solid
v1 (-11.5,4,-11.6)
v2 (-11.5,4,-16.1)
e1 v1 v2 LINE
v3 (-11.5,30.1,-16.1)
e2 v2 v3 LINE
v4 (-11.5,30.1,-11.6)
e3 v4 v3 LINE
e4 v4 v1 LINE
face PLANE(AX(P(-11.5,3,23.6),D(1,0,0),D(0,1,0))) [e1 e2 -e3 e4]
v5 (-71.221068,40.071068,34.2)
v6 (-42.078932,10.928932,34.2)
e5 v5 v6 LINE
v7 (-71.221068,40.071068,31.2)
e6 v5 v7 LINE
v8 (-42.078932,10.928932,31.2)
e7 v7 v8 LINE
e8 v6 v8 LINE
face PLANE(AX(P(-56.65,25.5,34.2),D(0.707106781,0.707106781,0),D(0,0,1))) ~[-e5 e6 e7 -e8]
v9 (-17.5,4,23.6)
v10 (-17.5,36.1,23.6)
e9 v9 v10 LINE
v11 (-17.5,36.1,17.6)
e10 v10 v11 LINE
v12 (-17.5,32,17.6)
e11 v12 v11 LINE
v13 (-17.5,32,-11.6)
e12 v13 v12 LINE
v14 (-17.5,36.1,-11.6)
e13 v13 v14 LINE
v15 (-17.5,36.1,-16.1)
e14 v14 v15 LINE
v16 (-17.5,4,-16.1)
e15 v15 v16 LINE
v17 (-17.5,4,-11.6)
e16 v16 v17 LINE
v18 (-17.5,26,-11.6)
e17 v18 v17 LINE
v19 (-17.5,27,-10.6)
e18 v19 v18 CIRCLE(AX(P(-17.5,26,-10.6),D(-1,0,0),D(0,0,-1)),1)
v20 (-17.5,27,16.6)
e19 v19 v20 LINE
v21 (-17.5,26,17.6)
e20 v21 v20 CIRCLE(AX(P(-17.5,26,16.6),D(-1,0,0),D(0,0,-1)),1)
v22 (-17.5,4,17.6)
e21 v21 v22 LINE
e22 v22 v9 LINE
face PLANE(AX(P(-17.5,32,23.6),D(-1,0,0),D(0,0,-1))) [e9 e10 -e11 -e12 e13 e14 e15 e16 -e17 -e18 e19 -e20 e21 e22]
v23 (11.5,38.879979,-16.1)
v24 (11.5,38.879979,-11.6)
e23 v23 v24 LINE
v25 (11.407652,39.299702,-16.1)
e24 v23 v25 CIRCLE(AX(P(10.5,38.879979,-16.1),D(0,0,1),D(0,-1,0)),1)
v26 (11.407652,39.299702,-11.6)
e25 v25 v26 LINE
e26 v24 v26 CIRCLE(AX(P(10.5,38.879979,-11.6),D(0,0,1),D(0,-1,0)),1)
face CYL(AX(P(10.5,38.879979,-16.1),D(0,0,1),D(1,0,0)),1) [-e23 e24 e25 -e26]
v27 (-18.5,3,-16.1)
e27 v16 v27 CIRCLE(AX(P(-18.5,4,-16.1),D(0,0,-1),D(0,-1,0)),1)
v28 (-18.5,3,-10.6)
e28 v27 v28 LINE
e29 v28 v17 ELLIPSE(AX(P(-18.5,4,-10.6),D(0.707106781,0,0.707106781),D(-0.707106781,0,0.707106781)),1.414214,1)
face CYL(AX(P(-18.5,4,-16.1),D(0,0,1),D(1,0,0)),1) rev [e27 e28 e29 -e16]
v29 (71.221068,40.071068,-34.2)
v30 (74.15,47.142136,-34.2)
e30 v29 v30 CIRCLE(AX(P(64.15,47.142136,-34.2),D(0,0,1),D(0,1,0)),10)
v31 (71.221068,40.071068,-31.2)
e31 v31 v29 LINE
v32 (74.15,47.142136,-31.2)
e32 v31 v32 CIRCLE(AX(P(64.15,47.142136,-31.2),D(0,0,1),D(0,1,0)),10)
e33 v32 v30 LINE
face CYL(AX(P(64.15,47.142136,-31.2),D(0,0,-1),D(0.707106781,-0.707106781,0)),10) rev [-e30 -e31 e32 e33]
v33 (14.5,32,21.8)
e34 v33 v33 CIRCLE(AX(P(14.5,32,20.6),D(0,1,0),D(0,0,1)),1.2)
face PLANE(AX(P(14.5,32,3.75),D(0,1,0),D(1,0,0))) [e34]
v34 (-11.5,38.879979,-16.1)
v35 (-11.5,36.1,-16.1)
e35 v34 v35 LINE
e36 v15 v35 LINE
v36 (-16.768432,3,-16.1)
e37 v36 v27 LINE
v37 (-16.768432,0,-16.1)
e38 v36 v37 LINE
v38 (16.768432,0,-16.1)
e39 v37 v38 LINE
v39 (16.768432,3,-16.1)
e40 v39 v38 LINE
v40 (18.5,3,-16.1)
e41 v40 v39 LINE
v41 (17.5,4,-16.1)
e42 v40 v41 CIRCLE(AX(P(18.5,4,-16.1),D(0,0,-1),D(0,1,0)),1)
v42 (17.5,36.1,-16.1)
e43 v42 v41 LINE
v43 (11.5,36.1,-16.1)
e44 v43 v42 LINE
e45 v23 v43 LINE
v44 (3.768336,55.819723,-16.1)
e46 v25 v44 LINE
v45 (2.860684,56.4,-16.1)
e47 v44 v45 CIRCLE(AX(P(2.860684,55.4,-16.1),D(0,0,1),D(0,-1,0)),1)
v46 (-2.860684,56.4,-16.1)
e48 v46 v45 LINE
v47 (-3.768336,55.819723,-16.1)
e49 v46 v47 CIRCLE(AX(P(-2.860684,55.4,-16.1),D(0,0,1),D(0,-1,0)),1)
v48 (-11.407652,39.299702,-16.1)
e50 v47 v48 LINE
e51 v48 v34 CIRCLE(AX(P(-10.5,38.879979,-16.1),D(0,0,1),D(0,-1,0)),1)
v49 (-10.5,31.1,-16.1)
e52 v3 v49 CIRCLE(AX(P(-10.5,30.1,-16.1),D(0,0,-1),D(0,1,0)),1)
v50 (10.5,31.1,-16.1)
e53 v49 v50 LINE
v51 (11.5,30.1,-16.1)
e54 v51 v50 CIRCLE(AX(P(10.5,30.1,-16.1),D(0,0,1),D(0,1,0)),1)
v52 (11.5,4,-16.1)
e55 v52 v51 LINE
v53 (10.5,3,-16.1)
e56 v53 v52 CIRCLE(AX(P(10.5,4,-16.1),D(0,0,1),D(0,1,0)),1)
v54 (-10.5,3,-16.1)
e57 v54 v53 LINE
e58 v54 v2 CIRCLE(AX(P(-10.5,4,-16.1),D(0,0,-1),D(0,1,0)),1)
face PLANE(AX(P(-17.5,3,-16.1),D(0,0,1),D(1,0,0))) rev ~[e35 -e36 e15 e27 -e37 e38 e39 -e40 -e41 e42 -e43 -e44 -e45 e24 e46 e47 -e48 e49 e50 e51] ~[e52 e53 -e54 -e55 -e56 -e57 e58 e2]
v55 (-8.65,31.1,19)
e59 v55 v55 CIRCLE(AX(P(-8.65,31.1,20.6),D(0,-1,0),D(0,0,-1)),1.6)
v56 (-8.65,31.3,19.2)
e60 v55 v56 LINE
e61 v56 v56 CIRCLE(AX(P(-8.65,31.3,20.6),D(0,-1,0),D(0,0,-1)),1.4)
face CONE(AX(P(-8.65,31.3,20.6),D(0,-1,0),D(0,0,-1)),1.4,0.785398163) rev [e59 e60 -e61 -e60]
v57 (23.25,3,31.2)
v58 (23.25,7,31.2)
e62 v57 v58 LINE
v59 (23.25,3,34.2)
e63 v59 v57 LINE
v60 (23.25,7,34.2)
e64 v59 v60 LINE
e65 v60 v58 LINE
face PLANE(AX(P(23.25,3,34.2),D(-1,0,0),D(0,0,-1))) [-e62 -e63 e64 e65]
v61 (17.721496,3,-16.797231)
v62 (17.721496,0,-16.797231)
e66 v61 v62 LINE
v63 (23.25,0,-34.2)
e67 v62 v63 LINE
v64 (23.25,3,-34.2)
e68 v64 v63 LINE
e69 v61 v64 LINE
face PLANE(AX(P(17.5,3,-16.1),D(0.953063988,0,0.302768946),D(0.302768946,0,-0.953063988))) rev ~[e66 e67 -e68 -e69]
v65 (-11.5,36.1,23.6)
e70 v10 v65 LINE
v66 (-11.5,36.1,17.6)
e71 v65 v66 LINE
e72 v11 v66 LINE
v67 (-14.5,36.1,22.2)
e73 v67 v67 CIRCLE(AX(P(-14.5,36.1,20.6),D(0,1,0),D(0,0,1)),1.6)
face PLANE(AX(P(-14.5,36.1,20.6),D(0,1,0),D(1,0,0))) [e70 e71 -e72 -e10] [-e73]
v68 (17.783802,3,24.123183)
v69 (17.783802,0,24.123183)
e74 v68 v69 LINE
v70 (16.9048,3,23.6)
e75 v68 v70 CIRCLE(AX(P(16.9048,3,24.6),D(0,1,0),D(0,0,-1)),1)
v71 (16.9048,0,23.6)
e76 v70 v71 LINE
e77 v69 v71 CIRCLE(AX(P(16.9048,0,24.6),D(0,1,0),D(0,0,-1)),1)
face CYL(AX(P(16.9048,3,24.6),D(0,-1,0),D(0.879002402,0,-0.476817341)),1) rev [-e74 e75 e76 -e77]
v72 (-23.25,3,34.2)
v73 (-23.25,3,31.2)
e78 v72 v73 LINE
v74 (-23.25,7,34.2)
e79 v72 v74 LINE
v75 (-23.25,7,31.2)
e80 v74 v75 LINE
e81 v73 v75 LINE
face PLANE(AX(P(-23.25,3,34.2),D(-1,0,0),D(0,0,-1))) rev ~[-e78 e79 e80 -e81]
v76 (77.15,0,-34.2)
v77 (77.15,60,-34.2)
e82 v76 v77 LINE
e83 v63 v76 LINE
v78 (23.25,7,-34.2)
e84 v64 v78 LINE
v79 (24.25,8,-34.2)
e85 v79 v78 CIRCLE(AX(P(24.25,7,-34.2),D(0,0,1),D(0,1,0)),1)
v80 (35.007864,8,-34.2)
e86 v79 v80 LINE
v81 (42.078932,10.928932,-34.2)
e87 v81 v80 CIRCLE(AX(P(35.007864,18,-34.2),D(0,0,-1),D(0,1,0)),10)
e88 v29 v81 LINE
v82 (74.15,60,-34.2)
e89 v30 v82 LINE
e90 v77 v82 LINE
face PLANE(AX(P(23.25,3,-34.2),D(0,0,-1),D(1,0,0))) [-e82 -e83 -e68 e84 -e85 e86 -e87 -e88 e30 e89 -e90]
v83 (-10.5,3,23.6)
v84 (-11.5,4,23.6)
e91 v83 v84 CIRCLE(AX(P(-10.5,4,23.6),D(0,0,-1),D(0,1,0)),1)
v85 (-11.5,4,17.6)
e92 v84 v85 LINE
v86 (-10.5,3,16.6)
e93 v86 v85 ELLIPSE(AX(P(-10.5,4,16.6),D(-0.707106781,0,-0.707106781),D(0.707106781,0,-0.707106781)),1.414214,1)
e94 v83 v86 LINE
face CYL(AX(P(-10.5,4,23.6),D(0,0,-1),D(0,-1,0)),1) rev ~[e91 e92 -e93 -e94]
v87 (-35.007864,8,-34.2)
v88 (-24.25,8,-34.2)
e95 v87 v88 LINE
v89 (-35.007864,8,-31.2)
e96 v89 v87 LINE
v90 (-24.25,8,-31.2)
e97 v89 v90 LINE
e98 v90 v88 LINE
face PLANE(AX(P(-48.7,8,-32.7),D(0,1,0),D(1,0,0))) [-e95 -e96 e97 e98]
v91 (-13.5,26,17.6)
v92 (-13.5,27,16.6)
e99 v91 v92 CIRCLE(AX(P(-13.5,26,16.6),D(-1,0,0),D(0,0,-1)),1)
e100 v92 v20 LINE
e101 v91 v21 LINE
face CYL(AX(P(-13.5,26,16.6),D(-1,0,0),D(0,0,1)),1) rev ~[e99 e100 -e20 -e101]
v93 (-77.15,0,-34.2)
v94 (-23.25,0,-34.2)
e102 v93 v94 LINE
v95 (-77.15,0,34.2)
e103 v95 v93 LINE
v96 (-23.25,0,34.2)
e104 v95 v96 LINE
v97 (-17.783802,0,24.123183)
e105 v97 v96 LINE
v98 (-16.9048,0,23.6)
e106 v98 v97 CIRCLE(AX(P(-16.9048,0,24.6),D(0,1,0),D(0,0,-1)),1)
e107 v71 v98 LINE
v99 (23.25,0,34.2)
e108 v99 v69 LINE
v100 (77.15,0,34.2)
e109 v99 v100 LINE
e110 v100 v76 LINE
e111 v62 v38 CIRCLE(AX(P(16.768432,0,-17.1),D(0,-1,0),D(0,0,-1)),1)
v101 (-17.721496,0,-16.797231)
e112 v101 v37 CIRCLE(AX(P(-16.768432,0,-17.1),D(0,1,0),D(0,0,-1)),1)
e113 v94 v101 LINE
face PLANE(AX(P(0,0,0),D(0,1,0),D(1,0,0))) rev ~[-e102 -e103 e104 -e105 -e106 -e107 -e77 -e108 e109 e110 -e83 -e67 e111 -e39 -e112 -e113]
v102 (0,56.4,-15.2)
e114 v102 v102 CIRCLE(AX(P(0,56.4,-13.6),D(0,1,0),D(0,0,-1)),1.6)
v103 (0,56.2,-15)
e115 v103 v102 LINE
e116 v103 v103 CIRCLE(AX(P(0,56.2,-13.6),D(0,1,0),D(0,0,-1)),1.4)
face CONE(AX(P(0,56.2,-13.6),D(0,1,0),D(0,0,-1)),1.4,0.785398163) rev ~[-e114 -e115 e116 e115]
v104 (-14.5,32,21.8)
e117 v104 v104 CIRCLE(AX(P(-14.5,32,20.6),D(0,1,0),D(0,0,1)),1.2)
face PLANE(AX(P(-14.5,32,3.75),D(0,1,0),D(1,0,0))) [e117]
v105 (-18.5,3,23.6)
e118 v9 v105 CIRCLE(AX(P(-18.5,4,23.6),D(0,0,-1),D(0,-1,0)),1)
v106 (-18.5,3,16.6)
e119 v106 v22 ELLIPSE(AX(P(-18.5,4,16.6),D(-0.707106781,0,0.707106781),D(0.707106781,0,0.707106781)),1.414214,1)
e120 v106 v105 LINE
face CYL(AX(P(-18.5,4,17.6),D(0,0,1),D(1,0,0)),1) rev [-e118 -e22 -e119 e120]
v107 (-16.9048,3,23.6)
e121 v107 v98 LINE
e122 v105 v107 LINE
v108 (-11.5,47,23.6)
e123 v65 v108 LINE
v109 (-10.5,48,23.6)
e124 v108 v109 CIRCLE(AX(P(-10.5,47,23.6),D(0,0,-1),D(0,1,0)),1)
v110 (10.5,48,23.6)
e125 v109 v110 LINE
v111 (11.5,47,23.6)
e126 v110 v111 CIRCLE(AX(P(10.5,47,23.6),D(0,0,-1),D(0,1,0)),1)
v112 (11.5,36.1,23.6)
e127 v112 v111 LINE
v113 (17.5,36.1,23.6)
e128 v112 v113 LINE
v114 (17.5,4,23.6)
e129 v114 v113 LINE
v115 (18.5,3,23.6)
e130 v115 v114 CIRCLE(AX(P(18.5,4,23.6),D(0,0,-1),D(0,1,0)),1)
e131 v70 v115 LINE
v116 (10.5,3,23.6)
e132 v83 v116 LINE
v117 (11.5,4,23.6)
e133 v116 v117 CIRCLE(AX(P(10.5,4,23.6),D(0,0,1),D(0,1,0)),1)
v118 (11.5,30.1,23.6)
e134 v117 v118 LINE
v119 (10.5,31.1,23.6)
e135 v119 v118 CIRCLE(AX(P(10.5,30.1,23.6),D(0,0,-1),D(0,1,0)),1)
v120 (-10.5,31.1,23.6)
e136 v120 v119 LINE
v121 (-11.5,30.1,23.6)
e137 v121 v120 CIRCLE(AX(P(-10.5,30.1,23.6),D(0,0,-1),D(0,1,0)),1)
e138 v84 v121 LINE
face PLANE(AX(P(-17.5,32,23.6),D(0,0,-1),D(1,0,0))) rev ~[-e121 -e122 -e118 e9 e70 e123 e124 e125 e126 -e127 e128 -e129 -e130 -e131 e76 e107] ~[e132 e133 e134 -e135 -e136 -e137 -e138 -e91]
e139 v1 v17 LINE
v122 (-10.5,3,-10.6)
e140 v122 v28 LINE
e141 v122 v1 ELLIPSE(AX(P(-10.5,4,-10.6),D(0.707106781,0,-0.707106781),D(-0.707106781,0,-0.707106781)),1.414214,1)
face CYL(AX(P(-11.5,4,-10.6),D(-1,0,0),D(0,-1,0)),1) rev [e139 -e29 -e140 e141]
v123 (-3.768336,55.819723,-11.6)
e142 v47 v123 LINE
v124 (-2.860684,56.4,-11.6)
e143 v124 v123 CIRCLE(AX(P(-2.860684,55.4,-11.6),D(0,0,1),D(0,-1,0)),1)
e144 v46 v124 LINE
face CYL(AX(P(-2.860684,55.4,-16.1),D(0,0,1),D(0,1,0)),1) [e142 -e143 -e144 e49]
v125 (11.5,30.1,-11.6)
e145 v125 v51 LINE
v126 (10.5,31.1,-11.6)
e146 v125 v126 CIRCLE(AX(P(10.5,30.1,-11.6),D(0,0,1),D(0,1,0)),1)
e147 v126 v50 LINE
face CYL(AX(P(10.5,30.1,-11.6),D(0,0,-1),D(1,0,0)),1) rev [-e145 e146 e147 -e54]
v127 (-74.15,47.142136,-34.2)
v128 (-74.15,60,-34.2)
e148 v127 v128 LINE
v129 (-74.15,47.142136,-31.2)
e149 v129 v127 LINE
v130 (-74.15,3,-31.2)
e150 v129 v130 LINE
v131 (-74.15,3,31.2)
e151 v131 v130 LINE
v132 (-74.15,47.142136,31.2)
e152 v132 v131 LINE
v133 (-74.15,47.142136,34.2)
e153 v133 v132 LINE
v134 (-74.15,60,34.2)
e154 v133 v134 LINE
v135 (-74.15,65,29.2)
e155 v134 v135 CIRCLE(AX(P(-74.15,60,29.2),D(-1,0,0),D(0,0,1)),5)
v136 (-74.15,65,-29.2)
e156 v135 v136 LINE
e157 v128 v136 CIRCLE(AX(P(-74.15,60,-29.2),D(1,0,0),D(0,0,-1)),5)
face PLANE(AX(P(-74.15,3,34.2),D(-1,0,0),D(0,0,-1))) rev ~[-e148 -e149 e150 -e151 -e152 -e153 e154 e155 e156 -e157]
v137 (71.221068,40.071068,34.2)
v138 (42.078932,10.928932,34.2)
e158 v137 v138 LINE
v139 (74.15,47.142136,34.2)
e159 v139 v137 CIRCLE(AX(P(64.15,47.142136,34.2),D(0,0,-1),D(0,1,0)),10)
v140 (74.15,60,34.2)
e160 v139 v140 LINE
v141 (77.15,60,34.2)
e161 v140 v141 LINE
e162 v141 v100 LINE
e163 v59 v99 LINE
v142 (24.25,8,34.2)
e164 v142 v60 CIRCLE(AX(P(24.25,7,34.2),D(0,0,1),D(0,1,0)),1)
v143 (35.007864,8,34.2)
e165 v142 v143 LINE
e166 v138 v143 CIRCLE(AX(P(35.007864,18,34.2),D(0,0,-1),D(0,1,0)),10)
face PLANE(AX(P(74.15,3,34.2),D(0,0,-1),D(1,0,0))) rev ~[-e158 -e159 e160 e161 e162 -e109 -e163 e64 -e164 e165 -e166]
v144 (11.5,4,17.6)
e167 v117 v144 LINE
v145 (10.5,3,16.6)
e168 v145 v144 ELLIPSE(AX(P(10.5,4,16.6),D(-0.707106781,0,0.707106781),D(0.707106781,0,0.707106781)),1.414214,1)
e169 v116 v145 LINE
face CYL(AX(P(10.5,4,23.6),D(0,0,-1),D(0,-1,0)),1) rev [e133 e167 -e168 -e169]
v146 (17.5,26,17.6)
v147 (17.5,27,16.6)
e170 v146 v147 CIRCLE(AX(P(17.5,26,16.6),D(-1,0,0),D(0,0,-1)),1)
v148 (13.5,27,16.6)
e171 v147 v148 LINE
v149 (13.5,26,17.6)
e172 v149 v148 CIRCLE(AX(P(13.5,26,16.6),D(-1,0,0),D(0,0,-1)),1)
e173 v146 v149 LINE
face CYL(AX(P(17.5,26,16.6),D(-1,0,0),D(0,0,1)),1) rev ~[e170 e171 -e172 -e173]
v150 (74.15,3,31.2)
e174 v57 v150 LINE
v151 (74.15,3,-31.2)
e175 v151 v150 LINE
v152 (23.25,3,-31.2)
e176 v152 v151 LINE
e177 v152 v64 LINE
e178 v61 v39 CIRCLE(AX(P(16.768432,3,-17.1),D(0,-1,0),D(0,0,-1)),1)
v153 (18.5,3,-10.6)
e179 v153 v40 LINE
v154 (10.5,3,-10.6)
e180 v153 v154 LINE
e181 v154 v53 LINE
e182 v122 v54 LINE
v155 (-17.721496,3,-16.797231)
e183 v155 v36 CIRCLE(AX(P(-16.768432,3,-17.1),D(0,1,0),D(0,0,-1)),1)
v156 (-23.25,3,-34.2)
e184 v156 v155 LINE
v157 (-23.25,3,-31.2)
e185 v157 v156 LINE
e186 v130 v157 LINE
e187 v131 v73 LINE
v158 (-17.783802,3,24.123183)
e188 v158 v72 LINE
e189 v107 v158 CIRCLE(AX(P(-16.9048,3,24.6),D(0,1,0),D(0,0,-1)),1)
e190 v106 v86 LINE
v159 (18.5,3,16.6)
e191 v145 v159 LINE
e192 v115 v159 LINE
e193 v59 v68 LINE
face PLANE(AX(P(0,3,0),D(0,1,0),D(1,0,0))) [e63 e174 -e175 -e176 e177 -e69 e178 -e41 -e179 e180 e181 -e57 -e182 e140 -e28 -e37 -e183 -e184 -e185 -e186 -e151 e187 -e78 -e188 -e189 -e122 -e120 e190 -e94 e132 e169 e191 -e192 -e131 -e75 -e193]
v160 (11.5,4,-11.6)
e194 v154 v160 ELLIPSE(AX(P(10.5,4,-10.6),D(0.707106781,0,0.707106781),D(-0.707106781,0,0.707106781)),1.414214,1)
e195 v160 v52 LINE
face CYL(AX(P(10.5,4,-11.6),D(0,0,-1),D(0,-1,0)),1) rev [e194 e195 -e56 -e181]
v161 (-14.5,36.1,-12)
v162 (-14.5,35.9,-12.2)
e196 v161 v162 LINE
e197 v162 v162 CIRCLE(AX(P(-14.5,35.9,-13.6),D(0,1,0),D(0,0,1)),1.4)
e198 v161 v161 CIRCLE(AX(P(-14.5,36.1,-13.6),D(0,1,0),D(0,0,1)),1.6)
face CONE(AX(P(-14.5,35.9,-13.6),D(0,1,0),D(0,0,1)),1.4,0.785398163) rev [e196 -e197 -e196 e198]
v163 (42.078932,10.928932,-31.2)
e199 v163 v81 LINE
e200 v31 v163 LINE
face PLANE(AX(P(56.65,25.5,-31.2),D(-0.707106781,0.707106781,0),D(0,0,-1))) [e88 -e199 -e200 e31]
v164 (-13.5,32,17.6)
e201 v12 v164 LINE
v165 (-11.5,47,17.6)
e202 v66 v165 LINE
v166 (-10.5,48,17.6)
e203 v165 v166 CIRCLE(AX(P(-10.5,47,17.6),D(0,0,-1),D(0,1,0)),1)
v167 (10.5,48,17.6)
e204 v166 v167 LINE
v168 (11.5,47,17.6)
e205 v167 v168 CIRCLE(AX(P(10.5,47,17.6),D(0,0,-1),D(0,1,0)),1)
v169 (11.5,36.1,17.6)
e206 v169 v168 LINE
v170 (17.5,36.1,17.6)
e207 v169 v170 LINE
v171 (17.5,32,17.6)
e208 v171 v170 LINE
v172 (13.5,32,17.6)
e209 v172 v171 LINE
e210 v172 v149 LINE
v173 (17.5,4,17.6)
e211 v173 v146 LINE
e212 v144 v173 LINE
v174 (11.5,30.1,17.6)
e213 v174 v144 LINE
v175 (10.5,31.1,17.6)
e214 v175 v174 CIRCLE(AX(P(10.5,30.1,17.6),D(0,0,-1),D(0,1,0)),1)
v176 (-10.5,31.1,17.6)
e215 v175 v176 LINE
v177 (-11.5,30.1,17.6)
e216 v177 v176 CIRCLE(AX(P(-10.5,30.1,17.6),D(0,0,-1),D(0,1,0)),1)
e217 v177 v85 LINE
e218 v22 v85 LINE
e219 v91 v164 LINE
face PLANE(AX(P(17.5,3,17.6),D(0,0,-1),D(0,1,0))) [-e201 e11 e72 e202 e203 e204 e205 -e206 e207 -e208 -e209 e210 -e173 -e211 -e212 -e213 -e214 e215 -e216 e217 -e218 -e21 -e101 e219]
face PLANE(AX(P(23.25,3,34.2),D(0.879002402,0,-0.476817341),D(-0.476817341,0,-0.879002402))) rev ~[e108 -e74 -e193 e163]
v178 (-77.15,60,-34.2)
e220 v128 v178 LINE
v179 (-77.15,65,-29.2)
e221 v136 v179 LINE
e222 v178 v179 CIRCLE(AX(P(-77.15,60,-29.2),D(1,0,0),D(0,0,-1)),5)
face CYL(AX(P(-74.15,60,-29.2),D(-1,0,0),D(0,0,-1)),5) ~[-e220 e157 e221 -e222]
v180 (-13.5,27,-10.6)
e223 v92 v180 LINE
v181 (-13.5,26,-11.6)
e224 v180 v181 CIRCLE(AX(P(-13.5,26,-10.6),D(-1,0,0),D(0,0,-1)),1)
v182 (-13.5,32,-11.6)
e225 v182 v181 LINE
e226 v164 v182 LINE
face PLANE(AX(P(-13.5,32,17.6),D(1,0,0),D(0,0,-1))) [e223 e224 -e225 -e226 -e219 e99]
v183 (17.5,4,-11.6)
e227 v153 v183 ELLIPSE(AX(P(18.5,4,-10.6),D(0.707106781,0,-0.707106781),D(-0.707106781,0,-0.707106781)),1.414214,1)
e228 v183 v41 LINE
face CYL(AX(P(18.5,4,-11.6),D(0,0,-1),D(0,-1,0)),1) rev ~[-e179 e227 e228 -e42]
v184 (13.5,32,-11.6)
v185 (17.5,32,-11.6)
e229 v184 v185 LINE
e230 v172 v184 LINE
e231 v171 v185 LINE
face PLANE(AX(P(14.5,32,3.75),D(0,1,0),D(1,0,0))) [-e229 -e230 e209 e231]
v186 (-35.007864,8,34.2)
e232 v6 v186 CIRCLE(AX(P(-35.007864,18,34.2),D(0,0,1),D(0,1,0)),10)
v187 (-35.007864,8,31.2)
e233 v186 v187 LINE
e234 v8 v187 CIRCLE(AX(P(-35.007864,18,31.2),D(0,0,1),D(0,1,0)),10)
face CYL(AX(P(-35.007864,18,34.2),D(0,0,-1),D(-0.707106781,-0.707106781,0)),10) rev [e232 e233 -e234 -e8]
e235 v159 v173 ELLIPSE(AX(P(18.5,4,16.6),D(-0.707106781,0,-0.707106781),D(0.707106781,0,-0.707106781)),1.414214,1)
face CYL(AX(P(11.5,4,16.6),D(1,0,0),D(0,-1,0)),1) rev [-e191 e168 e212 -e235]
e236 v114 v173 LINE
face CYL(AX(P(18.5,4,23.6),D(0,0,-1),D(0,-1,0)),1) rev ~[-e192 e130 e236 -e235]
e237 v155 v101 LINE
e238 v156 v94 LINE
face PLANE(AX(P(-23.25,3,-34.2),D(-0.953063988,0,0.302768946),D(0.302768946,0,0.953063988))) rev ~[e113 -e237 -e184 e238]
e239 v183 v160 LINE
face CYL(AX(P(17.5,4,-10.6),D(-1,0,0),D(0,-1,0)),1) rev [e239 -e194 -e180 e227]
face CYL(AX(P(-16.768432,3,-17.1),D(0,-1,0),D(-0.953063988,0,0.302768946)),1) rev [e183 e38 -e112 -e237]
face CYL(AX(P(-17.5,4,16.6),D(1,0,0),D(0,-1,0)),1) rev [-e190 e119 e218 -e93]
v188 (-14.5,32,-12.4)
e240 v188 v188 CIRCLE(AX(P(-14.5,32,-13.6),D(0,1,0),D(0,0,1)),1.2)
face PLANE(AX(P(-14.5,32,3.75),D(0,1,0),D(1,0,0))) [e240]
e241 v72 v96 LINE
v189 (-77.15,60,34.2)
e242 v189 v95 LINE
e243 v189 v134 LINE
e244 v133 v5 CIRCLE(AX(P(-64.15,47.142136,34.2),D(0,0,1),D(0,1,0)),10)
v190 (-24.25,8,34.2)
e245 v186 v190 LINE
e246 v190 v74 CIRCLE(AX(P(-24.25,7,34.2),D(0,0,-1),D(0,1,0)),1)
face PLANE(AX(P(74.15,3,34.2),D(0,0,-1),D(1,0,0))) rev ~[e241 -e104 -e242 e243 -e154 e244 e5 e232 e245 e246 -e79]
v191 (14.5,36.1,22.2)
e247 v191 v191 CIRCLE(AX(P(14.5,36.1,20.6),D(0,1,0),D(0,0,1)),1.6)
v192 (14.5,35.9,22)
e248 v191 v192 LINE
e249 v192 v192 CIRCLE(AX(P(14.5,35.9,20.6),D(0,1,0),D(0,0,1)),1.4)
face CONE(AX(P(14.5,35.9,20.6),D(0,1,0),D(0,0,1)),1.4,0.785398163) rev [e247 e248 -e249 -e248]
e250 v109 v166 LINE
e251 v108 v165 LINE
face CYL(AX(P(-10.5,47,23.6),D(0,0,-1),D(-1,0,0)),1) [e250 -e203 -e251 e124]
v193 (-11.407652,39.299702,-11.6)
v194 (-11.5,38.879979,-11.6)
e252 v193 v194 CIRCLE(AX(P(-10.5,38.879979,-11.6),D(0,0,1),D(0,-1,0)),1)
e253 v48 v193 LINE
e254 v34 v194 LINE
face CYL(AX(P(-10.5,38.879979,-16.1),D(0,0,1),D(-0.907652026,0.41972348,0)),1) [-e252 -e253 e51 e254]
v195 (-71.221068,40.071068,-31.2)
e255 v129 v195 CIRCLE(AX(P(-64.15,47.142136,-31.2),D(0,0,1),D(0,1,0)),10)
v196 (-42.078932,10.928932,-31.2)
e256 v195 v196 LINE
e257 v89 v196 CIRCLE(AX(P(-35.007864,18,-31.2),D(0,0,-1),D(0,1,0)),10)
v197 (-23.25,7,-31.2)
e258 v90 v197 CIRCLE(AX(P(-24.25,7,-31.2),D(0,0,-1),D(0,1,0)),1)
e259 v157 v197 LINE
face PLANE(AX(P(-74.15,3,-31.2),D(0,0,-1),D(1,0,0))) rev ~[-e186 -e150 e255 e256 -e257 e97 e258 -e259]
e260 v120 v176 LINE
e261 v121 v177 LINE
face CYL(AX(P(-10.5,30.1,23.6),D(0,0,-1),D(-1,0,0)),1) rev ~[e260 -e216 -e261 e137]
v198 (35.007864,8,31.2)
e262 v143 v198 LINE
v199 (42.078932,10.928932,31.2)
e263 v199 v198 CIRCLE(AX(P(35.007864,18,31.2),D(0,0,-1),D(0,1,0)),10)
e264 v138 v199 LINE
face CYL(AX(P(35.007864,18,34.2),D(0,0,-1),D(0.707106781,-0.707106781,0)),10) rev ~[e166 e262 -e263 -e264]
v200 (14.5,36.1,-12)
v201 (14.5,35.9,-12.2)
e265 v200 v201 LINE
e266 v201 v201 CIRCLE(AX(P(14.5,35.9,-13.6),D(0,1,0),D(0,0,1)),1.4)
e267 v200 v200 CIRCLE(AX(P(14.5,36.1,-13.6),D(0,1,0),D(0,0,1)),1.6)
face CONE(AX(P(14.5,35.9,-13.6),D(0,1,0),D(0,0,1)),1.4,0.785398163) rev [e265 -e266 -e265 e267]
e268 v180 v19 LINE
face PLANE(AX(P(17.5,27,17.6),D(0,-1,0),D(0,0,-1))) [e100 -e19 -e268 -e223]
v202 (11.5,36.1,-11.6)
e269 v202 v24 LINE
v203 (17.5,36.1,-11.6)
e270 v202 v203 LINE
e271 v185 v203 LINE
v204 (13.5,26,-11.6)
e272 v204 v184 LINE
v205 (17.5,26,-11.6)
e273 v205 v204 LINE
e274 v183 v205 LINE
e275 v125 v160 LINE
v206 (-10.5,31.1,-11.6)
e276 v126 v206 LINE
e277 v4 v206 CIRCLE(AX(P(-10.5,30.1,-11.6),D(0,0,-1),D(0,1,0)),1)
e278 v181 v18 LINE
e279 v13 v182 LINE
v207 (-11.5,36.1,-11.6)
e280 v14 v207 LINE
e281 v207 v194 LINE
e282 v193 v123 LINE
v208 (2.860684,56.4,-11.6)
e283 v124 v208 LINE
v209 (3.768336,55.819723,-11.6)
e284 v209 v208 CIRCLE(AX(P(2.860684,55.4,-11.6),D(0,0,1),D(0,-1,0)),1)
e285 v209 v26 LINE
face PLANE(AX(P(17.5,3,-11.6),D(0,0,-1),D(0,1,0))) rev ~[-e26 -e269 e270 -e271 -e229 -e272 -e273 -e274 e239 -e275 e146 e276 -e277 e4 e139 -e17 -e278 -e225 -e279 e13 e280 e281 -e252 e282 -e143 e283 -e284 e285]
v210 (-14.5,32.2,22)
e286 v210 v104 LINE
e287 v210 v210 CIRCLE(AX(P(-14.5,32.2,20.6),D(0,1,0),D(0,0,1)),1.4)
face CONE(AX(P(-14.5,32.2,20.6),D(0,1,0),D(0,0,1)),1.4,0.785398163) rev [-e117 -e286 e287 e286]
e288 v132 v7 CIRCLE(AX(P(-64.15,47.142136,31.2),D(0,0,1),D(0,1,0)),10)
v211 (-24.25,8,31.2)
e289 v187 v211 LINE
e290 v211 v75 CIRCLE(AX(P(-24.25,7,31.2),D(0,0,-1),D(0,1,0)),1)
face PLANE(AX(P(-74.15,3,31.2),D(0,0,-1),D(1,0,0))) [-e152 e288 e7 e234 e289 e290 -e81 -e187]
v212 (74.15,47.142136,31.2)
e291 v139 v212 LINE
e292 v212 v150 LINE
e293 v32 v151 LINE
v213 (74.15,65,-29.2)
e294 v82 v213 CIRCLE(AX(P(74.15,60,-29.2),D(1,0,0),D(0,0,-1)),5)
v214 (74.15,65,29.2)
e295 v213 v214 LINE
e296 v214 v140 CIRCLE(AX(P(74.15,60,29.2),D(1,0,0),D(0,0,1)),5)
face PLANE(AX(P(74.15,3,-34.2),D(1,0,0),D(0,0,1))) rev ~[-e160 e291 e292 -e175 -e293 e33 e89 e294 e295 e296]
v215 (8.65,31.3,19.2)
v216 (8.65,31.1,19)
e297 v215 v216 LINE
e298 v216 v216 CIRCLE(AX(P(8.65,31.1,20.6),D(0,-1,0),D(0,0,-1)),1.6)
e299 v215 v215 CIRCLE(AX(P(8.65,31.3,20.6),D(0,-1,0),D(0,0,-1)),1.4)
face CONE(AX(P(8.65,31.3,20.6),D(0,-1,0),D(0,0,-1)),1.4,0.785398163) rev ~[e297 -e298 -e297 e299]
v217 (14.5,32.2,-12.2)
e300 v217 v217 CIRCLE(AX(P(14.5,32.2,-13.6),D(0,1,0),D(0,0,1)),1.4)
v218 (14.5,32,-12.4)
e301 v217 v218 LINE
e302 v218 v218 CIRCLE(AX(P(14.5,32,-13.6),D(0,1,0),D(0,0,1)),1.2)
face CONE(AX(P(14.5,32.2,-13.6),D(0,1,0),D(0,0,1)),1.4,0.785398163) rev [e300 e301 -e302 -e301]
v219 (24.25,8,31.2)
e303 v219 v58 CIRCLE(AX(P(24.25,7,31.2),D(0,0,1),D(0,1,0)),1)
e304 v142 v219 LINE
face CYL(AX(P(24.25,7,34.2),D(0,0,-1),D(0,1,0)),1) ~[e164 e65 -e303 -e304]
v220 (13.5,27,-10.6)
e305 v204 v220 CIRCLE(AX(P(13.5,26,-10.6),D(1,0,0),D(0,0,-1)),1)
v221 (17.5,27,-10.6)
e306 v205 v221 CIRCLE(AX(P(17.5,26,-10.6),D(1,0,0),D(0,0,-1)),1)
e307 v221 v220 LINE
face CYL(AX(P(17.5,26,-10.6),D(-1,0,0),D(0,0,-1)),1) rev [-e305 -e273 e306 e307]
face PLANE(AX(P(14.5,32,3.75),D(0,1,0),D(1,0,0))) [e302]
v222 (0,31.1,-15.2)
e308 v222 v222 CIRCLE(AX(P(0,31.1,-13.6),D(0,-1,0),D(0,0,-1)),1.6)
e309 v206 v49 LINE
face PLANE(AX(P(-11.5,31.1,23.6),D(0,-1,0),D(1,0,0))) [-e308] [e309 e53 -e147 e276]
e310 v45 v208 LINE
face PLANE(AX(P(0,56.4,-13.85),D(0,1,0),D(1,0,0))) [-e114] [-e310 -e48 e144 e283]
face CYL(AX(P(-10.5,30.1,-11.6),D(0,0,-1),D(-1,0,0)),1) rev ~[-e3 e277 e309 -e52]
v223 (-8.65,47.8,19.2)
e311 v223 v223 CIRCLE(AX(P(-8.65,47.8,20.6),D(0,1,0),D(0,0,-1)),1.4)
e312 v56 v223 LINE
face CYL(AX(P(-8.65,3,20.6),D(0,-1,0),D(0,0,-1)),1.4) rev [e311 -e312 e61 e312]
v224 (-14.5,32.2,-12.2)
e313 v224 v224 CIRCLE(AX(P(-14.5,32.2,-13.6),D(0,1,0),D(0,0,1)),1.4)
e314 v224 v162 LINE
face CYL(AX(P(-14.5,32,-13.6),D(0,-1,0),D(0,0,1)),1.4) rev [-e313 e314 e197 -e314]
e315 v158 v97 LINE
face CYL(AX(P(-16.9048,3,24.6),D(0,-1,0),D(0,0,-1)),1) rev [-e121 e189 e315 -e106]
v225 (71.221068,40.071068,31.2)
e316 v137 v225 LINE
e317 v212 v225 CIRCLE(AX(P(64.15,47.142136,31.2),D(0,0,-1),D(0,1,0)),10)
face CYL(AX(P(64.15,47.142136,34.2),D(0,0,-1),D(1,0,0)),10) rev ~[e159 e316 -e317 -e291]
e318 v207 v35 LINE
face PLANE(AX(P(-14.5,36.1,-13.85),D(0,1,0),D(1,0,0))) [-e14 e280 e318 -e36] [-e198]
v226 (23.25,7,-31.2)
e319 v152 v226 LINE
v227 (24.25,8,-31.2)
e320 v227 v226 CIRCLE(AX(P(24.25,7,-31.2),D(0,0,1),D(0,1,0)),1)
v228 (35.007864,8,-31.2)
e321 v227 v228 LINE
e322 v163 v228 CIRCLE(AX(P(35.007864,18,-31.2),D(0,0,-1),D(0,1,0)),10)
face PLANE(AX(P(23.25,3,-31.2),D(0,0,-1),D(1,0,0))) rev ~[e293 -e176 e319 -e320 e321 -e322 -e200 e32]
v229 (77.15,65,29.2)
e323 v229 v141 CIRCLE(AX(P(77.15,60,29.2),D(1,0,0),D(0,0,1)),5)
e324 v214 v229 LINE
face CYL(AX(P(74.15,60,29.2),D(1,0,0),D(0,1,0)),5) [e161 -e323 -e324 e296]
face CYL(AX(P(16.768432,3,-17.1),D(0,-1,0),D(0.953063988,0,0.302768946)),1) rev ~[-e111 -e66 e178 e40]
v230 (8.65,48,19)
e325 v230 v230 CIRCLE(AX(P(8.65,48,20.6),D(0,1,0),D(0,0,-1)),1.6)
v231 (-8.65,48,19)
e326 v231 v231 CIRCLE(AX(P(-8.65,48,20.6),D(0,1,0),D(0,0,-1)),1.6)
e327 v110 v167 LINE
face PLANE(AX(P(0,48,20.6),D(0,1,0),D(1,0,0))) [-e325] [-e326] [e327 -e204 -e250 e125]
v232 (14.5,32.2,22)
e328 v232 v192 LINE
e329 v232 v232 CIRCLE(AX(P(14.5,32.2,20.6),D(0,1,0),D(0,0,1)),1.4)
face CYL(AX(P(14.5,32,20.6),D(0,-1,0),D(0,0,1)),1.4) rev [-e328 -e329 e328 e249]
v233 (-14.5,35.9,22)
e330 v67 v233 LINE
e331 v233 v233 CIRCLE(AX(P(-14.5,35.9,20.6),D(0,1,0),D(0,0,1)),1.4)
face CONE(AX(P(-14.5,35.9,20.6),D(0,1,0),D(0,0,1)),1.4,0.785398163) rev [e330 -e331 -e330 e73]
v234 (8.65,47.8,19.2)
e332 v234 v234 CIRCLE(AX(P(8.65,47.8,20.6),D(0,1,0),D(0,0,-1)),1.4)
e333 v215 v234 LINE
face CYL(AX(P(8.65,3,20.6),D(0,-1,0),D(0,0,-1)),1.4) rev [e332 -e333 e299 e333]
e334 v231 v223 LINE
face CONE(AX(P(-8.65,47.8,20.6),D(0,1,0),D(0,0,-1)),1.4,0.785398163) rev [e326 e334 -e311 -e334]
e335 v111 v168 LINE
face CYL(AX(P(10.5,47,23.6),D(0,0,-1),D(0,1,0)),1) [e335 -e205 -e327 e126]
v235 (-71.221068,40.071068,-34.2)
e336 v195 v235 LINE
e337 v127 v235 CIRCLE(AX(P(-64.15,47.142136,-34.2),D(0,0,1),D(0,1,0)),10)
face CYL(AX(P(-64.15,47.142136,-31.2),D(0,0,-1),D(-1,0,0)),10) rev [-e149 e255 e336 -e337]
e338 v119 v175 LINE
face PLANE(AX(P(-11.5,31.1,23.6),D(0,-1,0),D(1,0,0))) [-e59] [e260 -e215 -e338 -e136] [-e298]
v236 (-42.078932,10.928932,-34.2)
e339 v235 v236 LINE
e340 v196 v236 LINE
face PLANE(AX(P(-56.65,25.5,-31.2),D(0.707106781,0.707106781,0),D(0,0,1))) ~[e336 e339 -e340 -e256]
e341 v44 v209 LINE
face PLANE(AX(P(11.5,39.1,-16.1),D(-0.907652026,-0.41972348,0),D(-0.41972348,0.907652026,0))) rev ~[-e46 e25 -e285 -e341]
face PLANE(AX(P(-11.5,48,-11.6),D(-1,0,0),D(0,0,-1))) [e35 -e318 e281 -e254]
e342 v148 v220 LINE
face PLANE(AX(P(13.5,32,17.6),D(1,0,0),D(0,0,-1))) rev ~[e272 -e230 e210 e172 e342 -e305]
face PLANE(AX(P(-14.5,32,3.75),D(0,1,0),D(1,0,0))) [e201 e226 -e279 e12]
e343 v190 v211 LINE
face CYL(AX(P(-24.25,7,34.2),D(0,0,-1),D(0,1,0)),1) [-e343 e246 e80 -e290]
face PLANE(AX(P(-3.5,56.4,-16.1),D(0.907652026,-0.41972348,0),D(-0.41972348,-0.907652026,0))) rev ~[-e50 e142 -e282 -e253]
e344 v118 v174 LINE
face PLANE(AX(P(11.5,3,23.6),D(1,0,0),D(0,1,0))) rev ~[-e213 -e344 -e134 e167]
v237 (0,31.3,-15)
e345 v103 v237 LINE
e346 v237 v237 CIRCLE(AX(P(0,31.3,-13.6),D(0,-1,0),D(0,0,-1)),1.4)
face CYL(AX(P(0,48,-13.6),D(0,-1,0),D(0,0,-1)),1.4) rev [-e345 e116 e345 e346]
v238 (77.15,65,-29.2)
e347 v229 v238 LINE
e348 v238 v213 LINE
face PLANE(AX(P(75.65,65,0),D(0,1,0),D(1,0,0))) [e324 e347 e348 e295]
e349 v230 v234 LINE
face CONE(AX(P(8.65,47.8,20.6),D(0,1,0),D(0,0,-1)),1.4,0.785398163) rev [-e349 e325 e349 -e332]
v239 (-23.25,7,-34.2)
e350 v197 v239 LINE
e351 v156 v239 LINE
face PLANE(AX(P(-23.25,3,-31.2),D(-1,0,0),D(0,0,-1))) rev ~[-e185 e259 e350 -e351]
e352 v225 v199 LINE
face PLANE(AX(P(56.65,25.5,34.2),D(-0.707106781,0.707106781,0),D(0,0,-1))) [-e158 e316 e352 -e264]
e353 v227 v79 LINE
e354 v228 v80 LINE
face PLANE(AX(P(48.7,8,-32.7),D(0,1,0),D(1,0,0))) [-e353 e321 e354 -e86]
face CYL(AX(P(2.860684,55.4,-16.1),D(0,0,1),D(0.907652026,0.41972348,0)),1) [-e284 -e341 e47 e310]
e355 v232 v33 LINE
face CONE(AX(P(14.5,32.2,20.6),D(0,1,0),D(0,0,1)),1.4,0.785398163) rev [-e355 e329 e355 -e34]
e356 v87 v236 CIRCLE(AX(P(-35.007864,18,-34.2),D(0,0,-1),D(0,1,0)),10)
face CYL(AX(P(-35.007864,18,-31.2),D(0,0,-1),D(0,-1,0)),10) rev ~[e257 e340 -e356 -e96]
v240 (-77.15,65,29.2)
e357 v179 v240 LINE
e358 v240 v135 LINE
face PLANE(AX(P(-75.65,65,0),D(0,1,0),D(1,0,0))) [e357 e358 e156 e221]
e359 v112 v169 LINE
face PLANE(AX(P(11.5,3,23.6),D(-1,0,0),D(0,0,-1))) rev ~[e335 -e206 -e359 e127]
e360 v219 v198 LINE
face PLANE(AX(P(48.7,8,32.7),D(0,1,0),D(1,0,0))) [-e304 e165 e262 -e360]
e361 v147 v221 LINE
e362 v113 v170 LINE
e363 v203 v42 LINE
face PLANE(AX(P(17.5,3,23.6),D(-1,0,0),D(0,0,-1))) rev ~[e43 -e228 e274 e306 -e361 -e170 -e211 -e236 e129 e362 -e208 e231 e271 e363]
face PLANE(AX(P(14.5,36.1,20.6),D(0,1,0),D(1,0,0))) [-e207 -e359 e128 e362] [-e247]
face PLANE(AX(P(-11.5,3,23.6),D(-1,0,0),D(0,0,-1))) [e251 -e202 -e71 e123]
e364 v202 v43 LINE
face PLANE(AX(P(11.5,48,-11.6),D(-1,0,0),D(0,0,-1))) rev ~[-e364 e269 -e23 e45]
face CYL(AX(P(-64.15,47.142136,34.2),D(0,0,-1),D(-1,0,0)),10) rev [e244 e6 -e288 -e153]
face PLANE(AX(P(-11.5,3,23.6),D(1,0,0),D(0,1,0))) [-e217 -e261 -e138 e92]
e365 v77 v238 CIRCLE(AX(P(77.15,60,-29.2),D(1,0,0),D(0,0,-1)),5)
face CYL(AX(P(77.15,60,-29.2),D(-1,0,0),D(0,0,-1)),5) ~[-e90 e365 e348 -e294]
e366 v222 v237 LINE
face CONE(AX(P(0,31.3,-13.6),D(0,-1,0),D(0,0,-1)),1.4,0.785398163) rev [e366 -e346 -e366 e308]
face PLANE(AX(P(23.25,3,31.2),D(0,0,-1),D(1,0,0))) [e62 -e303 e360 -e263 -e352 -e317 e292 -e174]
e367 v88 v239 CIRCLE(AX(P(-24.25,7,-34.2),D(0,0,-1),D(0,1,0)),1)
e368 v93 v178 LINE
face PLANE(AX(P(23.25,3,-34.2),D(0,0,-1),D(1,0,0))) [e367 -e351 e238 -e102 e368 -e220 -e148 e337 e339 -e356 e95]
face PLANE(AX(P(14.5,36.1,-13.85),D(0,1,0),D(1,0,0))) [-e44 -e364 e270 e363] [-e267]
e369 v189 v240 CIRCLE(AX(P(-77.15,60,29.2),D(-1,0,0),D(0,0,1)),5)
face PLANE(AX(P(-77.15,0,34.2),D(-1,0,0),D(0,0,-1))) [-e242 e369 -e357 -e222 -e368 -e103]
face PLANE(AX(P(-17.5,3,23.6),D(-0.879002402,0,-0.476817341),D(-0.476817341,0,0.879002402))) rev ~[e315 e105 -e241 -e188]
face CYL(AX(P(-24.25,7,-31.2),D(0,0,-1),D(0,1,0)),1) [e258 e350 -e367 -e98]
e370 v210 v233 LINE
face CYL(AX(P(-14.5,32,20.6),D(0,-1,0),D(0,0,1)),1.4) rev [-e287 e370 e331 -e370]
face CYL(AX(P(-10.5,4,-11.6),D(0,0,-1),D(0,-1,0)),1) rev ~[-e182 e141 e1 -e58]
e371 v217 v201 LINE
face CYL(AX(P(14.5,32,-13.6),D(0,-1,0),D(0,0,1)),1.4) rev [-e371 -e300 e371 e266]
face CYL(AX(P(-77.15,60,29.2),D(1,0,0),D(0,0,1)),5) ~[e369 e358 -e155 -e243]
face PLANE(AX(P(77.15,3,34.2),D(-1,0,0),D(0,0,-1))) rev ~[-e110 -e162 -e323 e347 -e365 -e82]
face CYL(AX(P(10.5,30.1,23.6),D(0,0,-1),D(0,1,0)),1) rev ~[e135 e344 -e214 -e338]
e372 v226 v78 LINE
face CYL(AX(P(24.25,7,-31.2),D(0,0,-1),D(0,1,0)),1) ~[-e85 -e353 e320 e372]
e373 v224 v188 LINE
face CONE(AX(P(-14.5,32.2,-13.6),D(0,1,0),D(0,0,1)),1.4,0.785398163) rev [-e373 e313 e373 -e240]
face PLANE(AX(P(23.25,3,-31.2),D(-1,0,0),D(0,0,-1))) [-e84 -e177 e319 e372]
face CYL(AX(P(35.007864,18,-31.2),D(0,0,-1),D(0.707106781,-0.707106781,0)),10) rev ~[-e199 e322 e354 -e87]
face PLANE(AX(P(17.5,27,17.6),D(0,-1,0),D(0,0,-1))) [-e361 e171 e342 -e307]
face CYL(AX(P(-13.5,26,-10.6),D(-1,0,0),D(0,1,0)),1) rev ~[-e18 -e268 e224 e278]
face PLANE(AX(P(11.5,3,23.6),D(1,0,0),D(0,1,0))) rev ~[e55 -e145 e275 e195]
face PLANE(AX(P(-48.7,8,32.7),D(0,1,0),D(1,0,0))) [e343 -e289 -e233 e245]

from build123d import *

# Parameters (mm, degrees)
SKETCH1_W           = 154.3
SKETCH1_H           = 68.4
BOSS_EXTRUDE1_DEPTH = 3
SKETCH2_W           = 23
SKETCH2_H           = 4.5
SKETCH2_R           = 1.4
SKETCH2_H_2         = 6
BOSS_EXTRUDE2_DEPTH = 45
BOSS_EXTRUDE3_START = 45
SKETCH2_3_W         = 23
SKETCH2_3_H         = 4.5
SKETCH2_3_R         = 1.4
BOSS_EXTRUDE3_DEPTH = 8.4
BOSS_EXTRUDE4_DEPTH = 29
SKETCH3_W           = 2
SKETCH3_H           = 29.2
CUT_EXTRUDE1_DEPTH  = 29
BOSS_EXTRUDE5_DEPTH = 62
SKETCH4_3_W         = 50.9
SKETCH4_3_H         = 3
BOSS_EXTRUDE6_DEPTH = 5
CUT_EXTRUDE2_DEPTH  = 105.717536736
FILLET1_R           = 5
FILLET2_R           = 1
SKETCH6_W           = 6
SKETCH6_H           = 6
SKETCH6_R           = 1.4
SKETCH6_H_2         = 4.5
BOSS_EXTRUDE7_DEPTH = 4.1
SKETCH8_W           = 29.2
SKETCH8_H           = 24
CUT_EXTRUDE4_DEPTH  = 40
SKETCH9_W           = 23
SKETCH9_H           = 28.1
CUT_EXTRUDE5_DEPTH  = 40
CUT_EXTRUDE6_REACH  = 114.726
FILLET3_R           = 1
CHAMFER1_SIZE       = 0.2
CHAMFER2_SIZE       = 35
FILLET4_R           = 10


with BuildPart() as part:
    # Sketch1 → Boss-Extrude1 (new body)
    with BuildSketch(Plane(origin=(0, 0, 0), x_dir=(1, 0, 0), z_dir=(0, 1, 0))):
        Rectangle(SKETCH1_W, SKETCH1_H)
    extrude(amount=BOSS_EXTRUDE1_DEPTH)

    # Sketch2 → Boss-Extrude2 (add)
    # profile 1 of 2: a face of its own
    with BuildSketch(Plane(origin=(0, 3, 0), x_dir=(1, 0, 0), z_dir=(0, 1, 0))):
        with Locations((0, 13.85)):
            Rectangle(SKETCH2_W, SKETCH2_H)
        with Locations(Location((0, 13.6, 0), (0, 0, 90))):
            Circle(SKETCH2_R, mode=Mode.SUBTRACT)
    # profile 2 of 2: a face of its own
    with BuildSketch(Plane(origin=(0, 3, 0), x_dir=(1, 0, 0), z_dir=(0, 1, 0))):
        with Locations((0, -20.6)):
            Rectangle(SKETCH2_W, SKETCH2_H_2)
        with Locations(Location((8.65, -20.6, 0), (0, 0, 90))):
            Circle(SKETCH2_R, mode=Mode.SUBTRACT)
        with Locations(Location((-8.65, -20.6, 0), (0, 0, 90))):
            Circle(SKETCH2_R, mode=Mode.SUBTRACT)
    extrude(amount=BOSS_EXTRUDE2_DEPTH)

    # Sketch2<3> → Boss-Extrude3 (add)
    with BuildSketch(Plane(origin=(0, 3, 0), x_dir=(1, 0, 0), z_dir=(0, 1, 0)).offset(BOSS_EXTRUDE3_START)):
        with Locations((0, 13.85)):
            Rectangle(SKETCH2_3_W, SKETCH2_3_H)
        with Locations(Location((0, 13.6, 0), (0, 0, 90))):
            Circle(SKETCH2_3_R, mode=Mode.SUBTRACT)
    extrude(amount=BOSS_EXTRUDE3_DEPTH)

    # Sketch2<5> → Boss-Extrude4 (add)
    with BuildSketch(Plane(origin=(0, 3, 0), x_dir=(1, 0, 0), z_dir=(0, 1, 0))):
        Polygon((-11.5, -17.6), (-11.5, 11.6), (-11.5, 16.1), (-17.5, 16.1), (-17.5, -23.6), (-11.5, -23.6), align=None)
        Polygon((11.5, 16.1), (11.5, 11.6), (11.5, -17.6), (11.5, -23.6), (17.5, -23.6), (17.5, 16.1), align=None)
    extrude(amount=BOSS_EXTRUDE4_DEPTH)

    # Sketch3 → Cut-Extrude1 (cut)
    with BuildSketch(Plane(origin=(0, 32, 0), x_dir=(1, 0, 0), z_dir=(0, 1, 0))):
        with Locations((12.5, -3)):
            Rectangle(SKETCH3_W, SKETCH3_H)
        with Locations((-12.5, -3)):
            Rectangle(SKETCH3_W, SKETCH3_H)
    extrude(amount=-CUT_EXTRUDE1_DEPTH, mode=Mode.SUBTRACT)

    # Sketch4 → Boss-Extrude5 (add)
    with BuildSketch(Plane(origin=(0, 3, 0), x_dir=(1, 0, 0), z_dir=(0, 1, 0))):
        Polygon((77.15, -34.2), (77.15, 34.2), (74.15, 34.2), (74.15, 31.2), (74.15, -31.2), (74.15, -34.2), align=None)
        Polygon((-74.15, 31.2), (-74.15, 34.2), (-77.15, 34.2), (-77.15, -34.2), (-74.15, -34.2), (-74.15, -31.2), align=None)
    extrude(amount=BOSS_EXTRUDE5_DEPTH)

    # Sketch4<3> → Boss-Extrude6 (add)
    with BuildSketch(Plane(origin=(0, 3, 0), x_dir=(1, 0, 0), z_dir=(0, 1, 0))):
        with Locations((48.7, 32.7)):
            Rectangle(SKETCH4_3_W, SKETCH4_3_H)
        with Locations((48.7, -32.7)):
            Rectangle(SKETCH4_3_W, SKETCH4_3_H)
        with Locations((-48.7, 32.7)):
            Rectangle(SKETCH4_3_W, SKETCH4_3_H)
        with Locations((-48.7, -32.7)):
            Rectangle(SKETCH4_3_W, SKETCH4_3_H)
    extrude(amount=BOSS_EXTRUDE6_DEPTH)

    # Sketch5 → Cut-Extrude2 (cut, through all)
    with BuildSketch(Plane(origin=(0, 3, 0), x_dir=(1, 0, 0), z_dir=(0, 1, 0))):
        Polygon((23.25, -34.2), (17.5, -23.6), (-17.5, -23.6), (-23.25, -34.2), align=None)
        Polygon((17.5, 16.1), (23.25, 34.2), (-23.25, 34.2), (-17.5, 16.1), align=None)
    extrude(amount=-CUT_EXTRUDE2_DEPTH, mode=Mode.SUBTRACT)

    # Fillet1
    fillet1_edges = [part.edges().sort_by_distance(p)[0] for p in [
        (75.65, 65, -34.2),
        (75.65, 65, 34.2),
        (-75.65, 65, -34.2),
        (-75.65, 65, 34.2),
    ]]
    fillet(fillet1_edges, radius=FILLET1_R)

    # Fillet2
    fillet2_edges = [part.edges().sort_by_distance(p)[0] for p in [
        (23.25, 8, -32.7),
        (23.25, 8, 32.7),
        (-23.25, 8, -32.7),
        (-23.25, 8, 32.7),
        (-17.5, 1.5, 23.6),
        (17.5, 1.5, 23.6),
        (17.5, 1.5, -16.1),
        (-17.5, 1.5, -16.1),
    ]]
    fillet(fillet2_edges, radius=FILLET2_R)

    # Sketch6 → Boss-Extrude7 (add)
    # profile 1 of 4: a face of its own
    with BuildSketch(Plane(origin=(0, 32, 0), x_dir=(1, 0, 0), z_dir=(0, 1, 0))):
        with Locations((-14.5, -20.6)):
            Rectangle(SKETCH6_W, SKETCH6_H)
        with Locations(Location((-14.5, -20.6, 0), (0, 0, 270))):
            Circle(SKETCH6_R, mode=Mode.SUBTRACT)
    # profile 2 of 4: a face of its own
    with BuildSketch(Plane(origin=(0, 32, 0), x_dir=(1, 0, 0), z_dir=(0, 1, 0))):
        with Locations((14.5, -20.6)):
            Rectangle(SKETCH6_W, SKETCH6_H)
        with Locations(Location((14.5, -20.6, 0), (0, 0, 270))):
            Circle(SKETCH6_R, mode=Mode.SUBTRACT)
    # profile 3 of 4: a face of its own
    with BuildSketch(Plane(origin=(0, 32, 0), x_dir=(1, 0, 0), z_dir=(0, 1, 0))):
        with Locations((14.5, 13.85)):
            Rectangle(SKETCH6_W, SKETCH6_H_2)
        with Locations(Location((14.5, 13.6, 0), (0, 0, 270))):
            Circle(SKETCH6_R, mode=Mode.SUBTRACT)
    # profile 4 of 4: a face of its own
    with BuildSketch(Plane(origin=(0, 32, 0), x_dir=(1, 0, 0), z_dir=(0, 1, 0))):
        with Locations((-14.5, 13.85)):
            Rectangle(SKETCH6_W, SKETCH6_H_2)
        with Locations(Location((-14.5, 13.6, 0), (0, 0, 270))):
            Circle(SKETCH6_R, mode=Mode.SUBTRACT)
    extrude(amount=BOSS_EXTRUDE7_DEPTH)

    # Sketch8 → Cut-Extrude4 (cut)
    with BuildSketch(Plane(origin=(17.5, 0, 0), x_dir=(0, 0, -1), z_dir=(1, 0, 0))):
        with Locations((-3, 15)):
            Rectangle(SKETCH8_W, SKETCH8_H)
    extrude(amount=-CUT_EXTRUDE4_DEPTH, mode=Mode.SUBTRACT)

    # Sketch9 → Cut-Extrude5 (cut)
    with BuildSketch(Plane.XY.offset(23.6)):
        with Locations((0, 17.05)):
            Rectangle(SKETCH9_W, SKETCH9_H)
    extrude(amount=-CUT_EXTRUDE5_DEPTH, mode=Mode.SUBTRACT)

    # Sketch10 → Cut-Extrude6 (cut, up to next)
    with BuildSketch(Plane(origin=(0, 0, -16.1), x_dir=(-1, 0, 0), z_dir=(0, 0, -1)), mode=Mode.PRIVATE) as cut_extrude6_sk1:
        Polygon((-11.5, 39.1), (-3.5, 56.4), (-11.5, 56.4), align=None)
    cut_extrude6_tool1 = extrude(cut_extrude6_sk1.sketch, amount=-CUT_EXTRUDE6_REACH, mode=Mode.PRIVATE) & part.part
    # Sketch10 → Cut-Extrude6 (cut, up to next)
    with BuildSketch(Plane(origin=(0, 0, -16.1), x_dir=(-1, 0, 0), z_dir=(0, 0, -1)), mode=Mode.PRIVATE) as cut_extrude6_sk2:
        Polygon((11.5, 56.4), (3.5, 56.4), (11.5, 39.1), align=None)
    cut_extrude6_tool2 = extrude(cut_extrude6_sk2.sketch, amount=-CUT_EXTRUDE6_REACH, mode=Mode.PRIVATE) & part.part
    add(cut_extrude6_tool1.solids().sort_by_distance((8.833333, 50.633333, -16.1))[0], mode=Mode.SUBTRACT)
    add(cut_extrude6_tool2.solids().sort_by_distance((-8.833333, 50.633333, -16.1))[0], mode=Mode.SUBTRACT)

    # Fillet3
    fillet3_edges = [part.edges().sort_by_distance(p)[0] for p in [
        (-14.5, 3, -11.6),
        (-11.5, 48, 20.6),
        (11.5, 48, 20.6),
        (-14.5, 3, 17.6),
        (17.5, 3, 20.6),
        (-17.5, 3, 20.6),
        (-15.5, 27, 17.6),
        (15.5, 27, 17.6),
        (-15.5, 27, -11.6),
        (15.5, 27, -11.6),
        (14.5, 3, 17.6),
        (14.5, 3, -11.6),
        (-11.5, 3, -13.85),
        (11.5, 31.1, -13.85),
        (-11.5, 31.1, -13.85),
        (11.5, 3, -13.85),
        (-11.5, 3, 20.6),
        (-11.5, 31.1, 20.6),
        (11.5, 31.1, 20.6),
        (11.5, 3, 20.6),
        (3.5, 56.4, -13.85),
        (11.5, 39.1, -13.85),
        (-11.5, 39.1, -13.85),
        (-3.5, 56.4, -13.85),
        (-17.5, 3, -13.85),
        (17.5, 3, -13.85),
    ]]
    fillet(fillet3_edges, radius=FILLET3_R)

    # Chamfer1
    chamfer1_edges = [part.edges().sort_by_distance(p)[0] for p in [
        (-8.65, 48, 22),
        (8.65, 48, 22),
        (-14.5, 32, 19.2),
        (-14.5, 36.1, 19.2),
        (14.5, 32, 19.2),
        (14.5, 36.1, 19.2),
        (-14.5, 32, -15),
        (-14.5, 36.1, -15),
        (14.5, 32, -15),
        (14.5, 36.1, -15),
        (-8.65, 31.1, 22),
        (8.65, 31.1, 22),
        (0, 31.1, -12.2),
        (0, 56.4, -12.2),
    ]]
    chamfer(chamfer1_edges, length=CHAMFER1_SIZE)

    # Chamfer2
    chamfer2_edges = [part.edges().sort_by_distance(p)[0] for p in [
        (74.15, 8, -32.7),
        (74.15, 8, 32.7),
        (-74.15, 8, -32.7),
        (-74.15, 8, 32.7),
    ]]
    chamfer(chamfer2_edges, length=CHAMFER2_SIZE)

    # Fillet4
    fillet4_edges = [part.edges().sort_by_distance(p)[0] for p in [
        (74.15, 43, 32.7),
        (74.15, 43, -32.7),
        (39.15, 8, -32.7),
        (39.15, 8, 32.7),
        (-39.15, 8, -32.7),
        (-74.15, 43, 32.7),
        (-74.15, 43, -32.7),
        (-39.15, 8, 32.7),
    ]]
    fillet(fillet4_edges, radius=FILLET4_R)


solid = part.part
